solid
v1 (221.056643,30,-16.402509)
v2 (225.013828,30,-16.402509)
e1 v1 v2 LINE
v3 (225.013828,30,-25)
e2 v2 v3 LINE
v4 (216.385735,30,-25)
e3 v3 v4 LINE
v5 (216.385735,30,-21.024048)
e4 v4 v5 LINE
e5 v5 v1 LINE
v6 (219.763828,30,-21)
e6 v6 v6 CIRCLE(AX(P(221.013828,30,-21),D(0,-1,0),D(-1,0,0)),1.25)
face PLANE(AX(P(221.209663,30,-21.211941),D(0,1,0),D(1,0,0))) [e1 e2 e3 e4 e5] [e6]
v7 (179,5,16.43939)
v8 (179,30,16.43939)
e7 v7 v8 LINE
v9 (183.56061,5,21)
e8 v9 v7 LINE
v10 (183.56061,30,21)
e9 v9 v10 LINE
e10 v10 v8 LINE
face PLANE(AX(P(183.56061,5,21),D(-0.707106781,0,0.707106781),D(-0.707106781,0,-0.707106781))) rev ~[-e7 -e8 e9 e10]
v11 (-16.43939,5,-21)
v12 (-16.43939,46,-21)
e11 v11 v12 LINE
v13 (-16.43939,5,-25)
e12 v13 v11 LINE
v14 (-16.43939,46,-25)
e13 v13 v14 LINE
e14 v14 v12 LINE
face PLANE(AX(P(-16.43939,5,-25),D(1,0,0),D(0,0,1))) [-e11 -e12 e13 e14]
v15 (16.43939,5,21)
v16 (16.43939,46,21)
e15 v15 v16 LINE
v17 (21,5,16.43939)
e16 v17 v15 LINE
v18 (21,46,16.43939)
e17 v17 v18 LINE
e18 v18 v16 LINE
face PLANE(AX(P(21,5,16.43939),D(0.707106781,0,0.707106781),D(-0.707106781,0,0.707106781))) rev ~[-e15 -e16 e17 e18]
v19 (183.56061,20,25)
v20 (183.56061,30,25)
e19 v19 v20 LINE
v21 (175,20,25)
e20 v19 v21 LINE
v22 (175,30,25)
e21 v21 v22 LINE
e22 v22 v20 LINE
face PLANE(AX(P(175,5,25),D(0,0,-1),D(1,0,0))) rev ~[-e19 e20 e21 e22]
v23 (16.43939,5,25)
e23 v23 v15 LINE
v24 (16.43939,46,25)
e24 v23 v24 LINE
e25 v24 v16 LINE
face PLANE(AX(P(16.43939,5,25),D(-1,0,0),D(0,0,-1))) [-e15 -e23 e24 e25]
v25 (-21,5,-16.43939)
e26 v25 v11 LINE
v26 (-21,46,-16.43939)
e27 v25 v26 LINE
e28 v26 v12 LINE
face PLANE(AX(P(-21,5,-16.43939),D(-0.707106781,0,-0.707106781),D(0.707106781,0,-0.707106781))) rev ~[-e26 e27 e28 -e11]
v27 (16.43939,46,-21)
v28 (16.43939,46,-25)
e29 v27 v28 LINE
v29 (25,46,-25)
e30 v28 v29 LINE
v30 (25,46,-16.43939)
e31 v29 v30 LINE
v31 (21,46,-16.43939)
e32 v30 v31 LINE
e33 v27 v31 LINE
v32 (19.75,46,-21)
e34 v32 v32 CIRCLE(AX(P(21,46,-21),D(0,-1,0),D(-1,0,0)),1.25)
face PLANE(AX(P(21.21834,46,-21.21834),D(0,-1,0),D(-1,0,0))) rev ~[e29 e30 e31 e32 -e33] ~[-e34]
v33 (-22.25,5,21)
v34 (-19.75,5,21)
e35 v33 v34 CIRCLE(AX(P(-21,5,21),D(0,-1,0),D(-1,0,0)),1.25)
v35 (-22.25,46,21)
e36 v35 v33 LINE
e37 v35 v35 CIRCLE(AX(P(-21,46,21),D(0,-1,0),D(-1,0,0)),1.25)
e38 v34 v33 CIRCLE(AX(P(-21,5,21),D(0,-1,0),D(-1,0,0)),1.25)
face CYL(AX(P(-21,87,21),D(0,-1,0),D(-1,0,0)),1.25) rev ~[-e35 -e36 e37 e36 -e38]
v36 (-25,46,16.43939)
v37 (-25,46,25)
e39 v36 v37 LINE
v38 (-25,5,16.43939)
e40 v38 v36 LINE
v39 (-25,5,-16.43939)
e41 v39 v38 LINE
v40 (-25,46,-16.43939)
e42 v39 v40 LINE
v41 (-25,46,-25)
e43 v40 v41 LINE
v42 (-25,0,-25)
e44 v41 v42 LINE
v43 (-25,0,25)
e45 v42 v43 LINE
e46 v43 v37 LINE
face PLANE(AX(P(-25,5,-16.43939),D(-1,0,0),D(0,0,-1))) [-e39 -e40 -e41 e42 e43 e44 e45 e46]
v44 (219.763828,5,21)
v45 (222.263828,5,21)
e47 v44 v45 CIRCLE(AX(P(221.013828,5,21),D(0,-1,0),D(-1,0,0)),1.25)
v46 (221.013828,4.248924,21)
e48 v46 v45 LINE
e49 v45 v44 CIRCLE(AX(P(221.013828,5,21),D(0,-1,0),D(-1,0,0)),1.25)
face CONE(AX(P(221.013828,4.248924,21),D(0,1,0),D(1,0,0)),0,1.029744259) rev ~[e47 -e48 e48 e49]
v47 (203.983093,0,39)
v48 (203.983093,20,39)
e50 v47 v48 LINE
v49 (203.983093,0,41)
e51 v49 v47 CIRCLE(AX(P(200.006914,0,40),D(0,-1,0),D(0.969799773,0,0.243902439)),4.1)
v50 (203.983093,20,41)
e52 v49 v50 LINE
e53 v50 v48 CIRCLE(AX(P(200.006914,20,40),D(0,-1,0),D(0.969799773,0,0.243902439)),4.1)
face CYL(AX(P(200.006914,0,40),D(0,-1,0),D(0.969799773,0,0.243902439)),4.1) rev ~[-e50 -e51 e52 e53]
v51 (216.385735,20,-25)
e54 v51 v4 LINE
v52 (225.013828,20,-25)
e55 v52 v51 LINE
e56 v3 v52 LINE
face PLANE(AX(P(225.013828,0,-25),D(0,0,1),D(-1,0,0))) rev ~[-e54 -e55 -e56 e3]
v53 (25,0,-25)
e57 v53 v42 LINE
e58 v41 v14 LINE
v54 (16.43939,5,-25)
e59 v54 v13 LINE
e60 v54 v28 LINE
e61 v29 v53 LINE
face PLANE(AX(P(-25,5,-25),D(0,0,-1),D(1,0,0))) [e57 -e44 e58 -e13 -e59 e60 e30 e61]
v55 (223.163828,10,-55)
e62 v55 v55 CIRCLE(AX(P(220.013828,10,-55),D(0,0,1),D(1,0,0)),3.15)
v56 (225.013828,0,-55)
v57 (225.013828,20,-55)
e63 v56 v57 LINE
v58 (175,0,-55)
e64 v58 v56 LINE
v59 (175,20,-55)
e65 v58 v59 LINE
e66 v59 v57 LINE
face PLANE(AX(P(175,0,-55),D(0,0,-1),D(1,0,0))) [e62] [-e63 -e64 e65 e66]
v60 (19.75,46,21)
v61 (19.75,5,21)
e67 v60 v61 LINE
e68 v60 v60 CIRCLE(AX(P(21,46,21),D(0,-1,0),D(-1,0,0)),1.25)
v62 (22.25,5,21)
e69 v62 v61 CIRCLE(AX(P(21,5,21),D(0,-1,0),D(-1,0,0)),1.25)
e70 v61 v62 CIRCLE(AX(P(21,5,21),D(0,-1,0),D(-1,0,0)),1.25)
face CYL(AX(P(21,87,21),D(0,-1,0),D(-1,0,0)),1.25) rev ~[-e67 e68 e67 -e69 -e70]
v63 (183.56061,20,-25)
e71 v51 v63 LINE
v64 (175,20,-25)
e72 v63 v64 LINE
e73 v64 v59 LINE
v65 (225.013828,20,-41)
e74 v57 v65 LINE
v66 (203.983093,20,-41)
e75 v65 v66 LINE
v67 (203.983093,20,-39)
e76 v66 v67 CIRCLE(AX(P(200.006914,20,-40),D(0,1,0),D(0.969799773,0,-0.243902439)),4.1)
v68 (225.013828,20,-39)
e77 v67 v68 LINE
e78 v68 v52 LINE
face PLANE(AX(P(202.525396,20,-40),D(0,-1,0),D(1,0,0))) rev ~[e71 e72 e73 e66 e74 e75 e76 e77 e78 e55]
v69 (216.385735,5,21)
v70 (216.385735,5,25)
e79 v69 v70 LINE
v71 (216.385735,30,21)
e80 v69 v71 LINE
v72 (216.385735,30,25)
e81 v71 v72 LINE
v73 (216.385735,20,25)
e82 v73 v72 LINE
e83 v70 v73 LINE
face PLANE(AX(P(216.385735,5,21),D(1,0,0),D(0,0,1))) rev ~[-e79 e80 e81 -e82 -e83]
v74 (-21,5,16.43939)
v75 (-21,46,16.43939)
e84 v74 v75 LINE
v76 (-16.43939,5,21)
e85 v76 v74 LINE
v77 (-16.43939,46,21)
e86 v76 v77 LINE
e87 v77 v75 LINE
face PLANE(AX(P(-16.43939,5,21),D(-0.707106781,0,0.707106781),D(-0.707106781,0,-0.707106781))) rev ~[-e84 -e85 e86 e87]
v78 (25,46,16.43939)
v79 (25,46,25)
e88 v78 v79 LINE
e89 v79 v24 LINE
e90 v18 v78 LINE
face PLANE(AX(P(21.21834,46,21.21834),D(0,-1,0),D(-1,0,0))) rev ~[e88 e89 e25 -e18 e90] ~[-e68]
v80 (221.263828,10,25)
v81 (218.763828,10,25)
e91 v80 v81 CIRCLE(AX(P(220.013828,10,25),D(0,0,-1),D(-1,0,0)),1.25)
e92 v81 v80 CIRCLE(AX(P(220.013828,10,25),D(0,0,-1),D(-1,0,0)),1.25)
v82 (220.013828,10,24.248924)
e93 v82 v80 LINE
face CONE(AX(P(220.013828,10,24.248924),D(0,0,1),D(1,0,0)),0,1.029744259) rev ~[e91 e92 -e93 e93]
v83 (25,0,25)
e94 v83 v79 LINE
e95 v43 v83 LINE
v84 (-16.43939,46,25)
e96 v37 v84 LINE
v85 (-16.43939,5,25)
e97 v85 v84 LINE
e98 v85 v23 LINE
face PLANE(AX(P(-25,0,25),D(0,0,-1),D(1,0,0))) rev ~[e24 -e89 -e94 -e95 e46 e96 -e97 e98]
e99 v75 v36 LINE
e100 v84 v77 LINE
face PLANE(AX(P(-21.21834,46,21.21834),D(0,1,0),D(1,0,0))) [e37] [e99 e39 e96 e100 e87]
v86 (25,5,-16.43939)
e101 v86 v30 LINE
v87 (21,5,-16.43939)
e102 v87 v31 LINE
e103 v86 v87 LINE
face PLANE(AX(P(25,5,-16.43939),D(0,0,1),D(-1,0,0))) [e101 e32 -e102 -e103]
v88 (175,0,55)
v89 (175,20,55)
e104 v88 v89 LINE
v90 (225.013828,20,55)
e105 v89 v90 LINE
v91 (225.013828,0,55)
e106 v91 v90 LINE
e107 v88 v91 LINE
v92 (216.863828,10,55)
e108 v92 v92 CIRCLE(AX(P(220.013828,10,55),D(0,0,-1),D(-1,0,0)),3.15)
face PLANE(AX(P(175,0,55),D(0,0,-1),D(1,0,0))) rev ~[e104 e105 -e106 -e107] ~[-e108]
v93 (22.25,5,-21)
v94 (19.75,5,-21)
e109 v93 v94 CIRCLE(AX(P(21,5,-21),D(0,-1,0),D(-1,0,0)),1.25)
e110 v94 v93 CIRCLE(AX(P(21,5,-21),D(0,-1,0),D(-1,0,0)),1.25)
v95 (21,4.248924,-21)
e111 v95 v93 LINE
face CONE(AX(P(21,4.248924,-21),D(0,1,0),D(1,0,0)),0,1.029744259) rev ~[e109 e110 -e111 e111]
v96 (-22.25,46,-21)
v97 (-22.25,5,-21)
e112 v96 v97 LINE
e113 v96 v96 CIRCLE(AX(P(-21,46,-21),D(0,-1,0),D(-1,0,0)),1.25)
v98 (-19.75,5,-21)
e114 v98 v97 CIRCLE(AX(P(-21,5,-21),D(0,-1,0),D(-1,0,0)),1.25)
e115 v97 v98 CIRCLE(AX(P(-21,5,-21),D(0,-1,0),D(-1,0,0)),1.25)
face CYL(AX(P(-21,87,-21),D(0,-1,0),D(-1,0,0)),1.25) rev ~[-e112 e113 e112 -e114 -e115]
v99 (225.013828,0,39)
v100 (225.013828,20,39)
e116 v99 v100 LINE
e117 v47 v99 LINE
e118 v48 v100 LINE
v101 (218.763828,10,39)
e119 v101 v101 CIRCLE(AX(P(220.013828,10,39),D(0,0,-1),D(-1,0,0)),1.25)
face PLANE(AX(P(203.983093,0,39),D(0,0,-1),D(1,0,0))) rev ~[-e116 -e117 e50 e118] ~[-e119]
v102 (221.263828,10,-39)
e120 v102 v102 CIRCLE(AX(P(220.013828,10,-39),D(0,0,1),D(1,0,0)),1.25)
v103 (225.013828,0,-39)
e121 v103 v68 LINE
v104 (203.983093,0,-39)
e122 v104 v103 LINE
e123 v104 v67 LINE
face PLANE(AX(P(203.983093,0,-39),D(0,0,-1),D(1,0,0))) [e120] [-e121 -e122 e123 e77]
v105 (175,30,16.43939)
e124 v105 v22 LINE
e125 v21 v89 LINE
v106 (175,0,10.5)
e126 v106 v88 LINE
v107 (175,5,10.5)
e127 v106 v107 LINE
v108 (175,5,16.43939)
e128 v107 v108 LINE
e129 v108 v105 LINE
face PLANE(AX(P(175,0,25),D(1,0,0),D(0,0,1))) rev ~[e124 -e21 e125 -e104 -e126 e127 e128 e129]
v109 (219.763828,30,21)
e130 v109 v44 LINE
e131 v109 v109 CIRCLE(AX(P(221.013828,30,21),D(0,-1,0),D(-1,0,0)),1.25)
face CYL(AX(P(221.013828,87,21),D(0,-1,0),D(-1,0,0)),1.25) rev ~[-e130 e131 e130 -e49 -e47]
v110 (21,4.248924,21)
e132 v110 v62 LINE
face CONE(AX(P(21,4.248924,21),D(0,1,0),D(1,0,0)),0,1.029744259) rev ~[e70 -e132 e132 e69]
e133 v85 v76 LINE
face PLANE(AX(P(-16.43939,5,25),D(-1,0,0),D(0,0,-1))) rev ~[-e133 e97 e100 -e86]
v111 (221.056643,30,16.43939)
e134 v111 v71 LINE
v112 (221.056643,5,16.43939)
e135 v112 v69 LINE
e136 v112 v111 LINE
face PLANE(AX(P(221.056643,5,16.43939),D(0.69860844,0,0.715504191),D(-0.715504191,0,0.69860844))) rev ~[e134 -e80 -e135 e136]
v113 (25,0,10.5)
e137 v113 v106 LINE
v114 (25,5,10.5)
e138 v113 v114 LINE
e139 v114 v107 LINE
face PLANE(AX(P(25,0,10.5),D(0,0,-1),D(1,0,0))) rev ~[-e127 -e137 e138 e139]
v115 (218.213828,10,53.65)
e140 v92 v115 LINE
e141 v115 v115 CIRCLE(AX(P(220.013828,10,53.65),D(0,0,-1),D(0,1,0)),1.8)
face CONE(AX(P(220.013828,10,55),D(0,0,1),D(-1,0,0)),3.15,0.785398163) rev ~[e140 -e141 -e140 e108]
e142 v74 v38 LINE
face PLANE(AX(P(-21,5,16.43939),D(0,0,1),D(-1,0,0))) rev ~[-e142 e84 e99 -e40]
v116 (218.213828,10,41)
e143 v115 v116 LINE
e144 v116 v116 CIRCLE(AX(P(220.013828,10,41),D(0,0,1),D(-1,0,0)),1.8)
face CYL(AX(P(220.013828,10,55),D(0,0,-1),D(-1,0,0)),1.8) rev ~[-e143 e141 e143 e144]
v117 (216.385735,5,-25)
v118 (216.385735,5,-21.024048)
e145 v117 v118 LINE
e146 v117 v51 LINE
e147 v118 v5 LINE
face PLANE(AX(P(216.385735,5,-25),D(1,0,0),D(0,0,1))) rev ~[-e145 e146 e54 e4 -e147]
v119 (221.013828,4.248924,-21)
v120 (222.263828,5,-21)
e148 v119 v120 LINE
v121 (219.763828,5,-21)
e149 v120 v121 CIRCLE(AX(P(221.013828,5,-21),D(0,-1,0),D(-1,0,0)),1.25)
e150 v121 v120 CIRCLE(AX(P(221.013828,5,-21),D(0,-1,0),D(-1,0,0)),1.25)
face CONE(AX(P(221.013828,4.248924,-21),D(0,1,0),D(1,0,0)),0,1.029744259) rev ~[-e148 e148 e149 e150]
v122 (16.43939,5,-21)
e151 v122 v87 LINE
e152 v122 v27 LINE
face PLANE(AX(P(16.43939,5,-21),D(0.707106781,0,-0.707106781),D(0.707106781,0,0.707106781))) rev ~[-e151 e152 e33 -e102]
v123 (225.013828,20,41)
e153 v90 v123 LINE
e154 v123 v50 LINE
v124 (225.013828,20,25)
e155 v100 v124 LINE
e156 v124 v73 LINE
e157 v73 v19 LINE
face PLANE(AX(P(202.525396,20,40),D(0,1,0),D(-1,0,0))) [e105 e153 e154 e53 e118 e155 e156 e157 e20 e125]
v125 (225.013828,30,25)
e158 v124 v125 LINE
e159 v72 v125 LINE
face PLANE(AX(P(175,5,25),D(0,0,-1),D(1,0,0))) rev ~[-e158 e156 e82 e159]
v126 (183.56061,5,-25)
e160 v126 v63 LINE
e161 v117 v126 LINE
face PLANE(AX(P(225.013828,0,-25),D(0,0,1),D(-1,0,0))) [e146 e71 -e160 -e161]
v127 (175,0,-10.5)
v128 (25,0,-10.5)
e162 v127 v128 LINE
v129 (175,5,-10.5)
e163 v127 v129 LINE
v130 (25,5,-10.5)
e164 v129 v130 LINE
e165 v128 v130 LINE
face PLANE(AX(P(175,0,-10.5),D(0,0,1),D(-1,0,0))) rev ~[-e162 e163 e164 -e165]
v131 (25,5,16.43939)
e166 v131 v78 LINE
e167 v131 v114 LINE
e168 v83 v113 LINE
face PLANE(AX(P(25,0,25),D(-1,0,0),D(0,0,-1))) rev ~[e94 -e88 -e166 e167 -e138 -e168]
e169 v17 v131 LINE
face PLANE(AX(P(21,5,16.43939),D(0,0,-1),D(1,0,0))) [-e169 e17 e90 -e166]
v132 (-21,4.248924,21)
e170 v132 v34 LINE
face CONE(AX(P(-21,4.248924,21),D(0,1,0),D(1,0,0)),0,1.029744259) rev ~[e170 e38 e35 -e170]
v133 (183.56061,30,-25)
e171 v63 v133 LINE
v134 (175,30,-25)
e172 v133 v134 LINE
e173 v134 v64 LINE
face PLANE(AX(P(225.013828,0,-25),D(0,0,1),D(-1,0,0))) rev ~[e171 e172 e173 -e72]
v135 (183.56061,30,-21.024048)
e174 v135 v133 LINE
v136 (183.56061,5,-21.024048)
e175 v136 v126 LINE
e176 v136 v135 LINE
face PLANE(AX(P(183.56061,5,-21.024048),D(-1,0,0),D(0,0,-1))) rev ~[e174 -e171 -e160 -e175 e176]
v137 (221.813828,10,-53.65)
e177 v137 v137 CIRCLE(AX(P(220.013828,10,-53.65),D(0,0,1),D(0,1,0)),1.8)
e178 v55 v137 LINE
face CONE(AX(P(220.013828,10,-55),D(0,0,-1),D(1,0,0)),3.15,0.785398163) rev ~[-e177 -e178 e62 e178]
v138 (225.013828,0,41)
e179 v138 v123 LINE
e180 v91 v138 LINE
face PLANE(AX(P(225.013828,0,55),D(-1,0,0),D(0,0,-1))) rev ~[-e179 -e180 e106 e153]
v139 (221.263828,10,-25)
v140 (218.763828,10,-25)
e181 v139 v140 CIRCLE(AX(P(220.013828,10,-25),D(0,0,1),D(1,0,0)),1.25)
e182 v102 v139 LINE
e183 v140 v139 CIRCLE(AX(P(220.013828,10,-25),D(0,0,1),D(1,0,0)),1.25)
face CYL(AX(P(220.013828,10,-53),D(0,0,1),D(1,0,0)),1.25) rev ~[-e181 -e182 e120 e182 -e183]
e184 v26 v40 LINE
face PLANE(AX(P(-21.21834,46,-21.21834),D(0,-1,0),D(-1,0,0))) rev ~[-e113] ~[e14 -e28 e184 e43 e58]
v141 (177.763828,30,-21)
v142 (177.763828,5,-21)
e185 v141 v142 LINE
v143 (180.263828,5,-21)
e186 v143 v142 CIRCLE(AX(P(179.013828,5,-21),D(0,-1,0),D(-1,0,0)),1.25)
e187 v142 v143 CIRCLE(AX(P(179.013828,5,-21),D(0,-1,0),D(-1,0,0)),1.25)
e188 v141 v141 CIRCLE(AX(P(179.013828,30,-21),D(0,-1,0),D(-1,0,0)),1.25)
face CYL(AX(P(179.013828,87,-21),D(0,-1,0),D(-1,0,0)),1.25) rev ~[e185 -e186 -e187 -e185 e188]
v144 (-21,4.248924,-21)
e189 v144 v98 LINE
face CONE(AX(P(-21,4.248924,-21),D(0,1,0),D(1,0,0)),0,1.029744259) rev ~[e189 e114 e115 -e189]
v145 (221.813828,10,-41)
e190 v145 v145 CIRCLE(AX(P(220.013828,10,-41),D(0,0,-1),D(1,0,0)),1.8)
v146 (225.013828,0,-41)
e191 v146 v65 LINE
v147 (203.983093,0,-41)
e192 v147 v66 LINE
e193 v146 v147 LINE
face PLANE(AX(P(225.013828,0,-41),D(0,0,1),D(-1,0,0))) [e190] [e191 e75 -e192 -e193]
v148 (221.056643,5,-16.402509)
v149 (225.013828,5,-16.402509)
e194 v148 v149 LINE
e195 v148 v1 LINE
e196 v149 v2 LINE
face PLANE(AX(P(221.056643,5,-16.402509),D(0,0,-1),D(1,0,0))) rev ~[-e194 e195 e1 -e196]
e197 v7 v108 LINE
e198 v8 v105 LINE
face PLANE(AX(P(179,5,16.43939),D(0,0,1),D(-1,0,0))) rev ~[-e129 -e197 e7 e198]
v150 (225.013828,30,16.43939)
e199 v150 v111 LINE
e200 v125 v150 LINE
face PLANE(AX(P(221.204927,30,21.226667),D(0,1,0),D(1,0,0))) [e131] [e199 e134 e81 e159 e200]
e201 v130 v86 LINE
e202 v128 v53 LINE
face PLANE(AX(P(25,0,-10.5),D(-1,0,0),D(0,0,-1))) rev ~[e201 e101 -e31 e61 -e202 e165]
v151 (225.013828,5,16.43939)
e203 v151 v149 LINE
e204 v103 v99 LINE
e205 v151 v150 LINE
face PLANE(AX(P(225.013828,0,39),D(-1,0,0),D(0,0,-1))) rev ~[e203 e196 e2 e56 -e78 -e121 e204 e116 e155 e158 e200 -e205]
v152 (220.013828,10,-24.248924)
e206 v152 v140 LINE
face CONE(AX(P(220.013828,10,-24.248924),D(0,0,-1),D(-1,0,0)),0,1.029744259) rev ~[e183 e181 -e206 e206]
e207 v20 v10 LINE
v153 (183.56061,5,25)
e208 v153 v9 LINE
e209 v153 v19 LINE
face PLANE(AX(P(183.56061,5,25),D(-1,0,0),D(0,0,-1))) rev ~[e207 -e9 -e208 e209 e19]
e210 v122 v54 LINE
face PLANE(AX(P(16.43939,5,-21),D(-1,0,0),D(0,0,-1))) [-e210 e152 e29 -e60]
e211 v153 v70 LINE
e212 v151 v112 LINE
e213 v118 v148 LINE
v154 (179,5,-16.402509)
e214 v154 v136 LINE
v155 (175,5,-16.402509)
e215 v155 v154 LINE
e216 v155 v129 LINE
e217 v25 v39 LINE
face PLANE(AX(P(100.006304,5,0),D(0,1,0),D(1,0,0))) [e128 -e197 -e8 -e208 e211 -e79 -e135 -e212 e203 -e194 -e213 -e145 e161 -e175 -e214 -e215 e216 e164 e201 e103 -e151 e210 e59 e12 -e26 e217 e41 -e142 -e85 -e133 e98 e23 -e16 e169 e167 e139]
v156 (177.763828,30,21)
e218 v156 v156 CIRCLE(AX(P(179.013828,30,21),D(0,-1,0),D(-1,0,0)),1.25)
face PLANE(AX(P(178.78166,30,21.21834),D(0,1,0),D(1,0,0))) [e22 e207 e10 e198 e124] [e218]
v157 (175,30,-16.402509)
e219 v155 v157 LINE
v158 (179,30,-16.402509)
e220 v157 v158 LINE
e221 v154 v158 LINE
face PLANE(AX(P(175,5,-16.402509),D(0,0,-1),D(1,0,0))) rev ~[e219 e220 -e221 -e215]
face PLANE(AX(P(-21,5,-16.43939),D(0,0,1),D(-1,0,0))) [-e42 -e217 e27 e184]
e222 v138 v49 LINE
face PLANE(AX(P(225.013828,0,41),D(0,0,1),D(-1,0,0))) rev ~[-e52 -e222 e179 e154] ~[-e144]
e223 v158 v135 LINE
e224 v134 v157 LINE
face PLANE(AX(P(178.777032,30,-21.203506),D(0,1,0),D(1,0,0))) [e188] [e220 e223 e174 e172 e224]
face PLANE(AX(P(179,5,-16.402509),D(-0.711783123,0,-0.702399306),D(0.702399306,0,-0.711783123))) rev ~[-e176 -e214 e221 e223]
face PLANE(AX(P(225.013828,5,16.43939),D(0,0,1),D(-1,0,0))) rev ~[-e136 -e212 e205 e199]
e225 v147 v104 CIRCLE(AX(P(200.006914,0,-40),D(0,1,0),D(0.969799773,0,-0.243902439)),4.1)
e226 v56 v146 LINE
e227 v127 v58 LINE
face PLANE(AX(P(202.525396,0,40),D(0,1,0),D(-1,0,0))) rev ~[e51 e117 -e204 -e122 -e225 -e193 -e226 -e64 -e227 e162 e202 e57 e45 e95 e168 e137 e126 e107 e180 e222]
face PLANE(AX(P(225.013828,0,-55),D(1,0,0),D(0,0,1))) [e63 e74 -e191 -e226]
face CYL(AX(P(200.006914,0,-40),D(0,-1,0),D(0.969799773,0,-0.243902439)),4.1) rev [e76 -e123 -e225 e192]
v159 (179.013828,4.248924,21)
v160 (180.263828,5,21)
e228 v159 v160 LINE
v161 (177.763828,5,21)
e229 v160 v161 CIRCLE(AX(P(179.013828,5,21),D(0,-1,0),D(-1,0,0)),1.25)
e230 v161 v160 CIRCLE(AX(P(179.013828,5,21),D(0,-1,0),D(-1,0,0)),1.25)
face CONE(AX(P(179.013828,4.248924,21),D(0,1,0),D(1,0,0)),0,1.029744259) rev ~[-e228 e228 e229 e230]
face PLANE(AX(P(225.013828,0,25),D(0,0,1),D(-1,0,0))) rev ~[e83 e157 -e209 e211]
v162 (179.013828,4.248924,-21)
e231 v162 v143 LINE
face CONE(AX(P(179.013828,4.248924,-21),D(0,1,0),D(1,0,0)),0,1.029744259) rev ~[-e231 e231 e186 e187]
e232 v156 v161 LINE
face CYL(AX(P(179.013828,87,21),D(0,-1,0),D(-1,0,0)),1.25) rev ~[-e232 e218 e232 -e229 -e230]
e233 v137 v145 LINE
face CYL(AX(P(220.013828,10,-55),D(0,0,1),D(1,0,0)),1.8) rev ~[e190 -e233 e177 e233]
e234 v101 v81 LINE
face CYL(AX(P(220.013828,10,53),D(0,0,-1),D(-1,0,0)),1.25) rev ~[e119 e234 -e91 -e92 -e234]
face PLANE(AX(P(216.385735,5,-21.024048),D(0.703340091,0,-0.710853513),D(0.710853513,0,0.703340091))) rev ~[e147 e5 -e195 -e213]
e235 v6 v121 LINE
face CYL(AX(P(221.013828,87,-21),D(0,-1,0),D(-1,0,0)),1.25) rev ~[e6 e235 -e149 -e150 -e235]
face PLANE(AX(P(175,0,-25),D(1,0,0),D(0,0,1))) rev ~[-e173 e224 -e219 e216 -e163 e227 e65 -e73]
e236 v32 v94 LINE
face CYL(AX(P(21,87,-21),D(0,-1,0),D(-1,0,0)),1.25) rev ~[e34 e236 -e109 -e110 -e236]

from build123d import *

# Parameters (mm, degrees)
BASE_EXTR_DEPTH                                 = 5
MOTOR_1_EXTR_DEPTH                              = 41
SHAFT_MOTOR_SUPPORT_EXTR_DEPTH                  = 25
TAP_DRILL_FOR_M3X0_5_TAP1_D                     = 2.5
TAP_DRILL_FOR_M3X0_5_TAP1_DEPTH                 = 41
TAP_DRILL_FOR_M3X0_5_TAP1_TIP                   = 0.751075774
BOSS_EXTRUDE10_DEPTH                            = 20
CSK_FOR_M3_OVAL_HEAD_MACHINE_SCREW1_D           = 3.6
CSK_FOR_M3_OVAL_HEAD_MACHINE_SCREW1_DEPTH       = 14
CSK_FOR_M3_OVAL_HEAD_MACHINE_SCREW1_CSINK_D     = 6.3
CSK_FOR_M3_OVAL_HEAD_MACHINE_SCREW1_CSINK_ANGLE = 90
CSK_FOR_M3_OVAL_HEAD_MACHINE_SCREW1_TIP         = 1.081549114
CSK_FOR_M3_OVAL_HEAD_MACHINE_SCREW2_D           = 3.6
CSK_FOR_M3_OVAL_HEAD_MACHINE_SCREW2_DEPTH       = 14
CSK_FOR_M3_OVAL_HEAD_MACHINE_SCREW2_CSINK_D     = 6.3
CSK_FOR_M3_OVAL_HEAD_MACHINE_SCREW2_CSINK_ANGLE = 90
CSK_FOR_M3_OVAL_HEAD_MACHINE_SCREW2_TIP         = 1.081549114
TAP_DRILL_FOR_M3X0_5_TAP2_D                     = 2.5
TAP_DRILL_FOR_M3X0_5_TAP2_DEPTH                 = 14
TAP_DRILL_FOR_M3X0_5_TAP2_TIP                   = 0.751075774
TAP_DRILL_FOR_M3X0_5_TAP3_D                     = 2.5
TAP_DRILL_FOR_M3X0_5_TAP3_DEPTH                 = 14
TAP_DRILL_FOR_M3X0_5_TAP3_TIP                   = 0.751075774


with BuildPart() as part:
    # Base_sch → base_extr (new body)
    with BuildSketch(Plane(origin=(0, 0, 0), x_dir=(1, 0, 0), z_dir=(0, 1, 0))):
        Polygon((25, 10.5), (25, 25), (-25, 25), (-25, -25), (25, -25), (25, -10.5), (175, -10.5), (175, -25), (225.013827764, -25), (225.013827764, 25), (175, 25), (175, 10.5), align=None)
    extrude(amount=BASE_EXTR_DEPTH)

    # motor_support_sch → Motor_1_extr (add)
    with BuildSketch(Plane(origin=(0, 5, 0), x_dir=(1, 0, 0), z_dir=(0, 1, 0))):
        Polygon((-25, 16.439389634), (-25, 25), (-16.439389634, 25), (-16.439389634, 21), (-18.719694817, 18.719694817), (-21, 16.439389634), align=None)
        Polygon((16.439389634, 25), (25, 25), (25, 16.439389634), (21, 16.439389634), (18.719694817, 18.719694817), (16.439389634, 21), align=None)
        Polygon((25, -16.439389634), (25, -25), (16.439389634, -25), (16.439389634, -21), (18.719694817, -18.719694817), (21, -16.439389634), align=None)
        Polygon((-18.719694817, -18.719694817), (-21, -16.439389634), (-25, -16.439389634), (-25, -25), (-16.439389634, -25), (-16.439389634, -21), align=None)
    extrude(amount=MOTOR_1_EXTR_DEPTH)

    # shaft_motor_support_sch → shaft_motor_support_extr (add)
    with BuildSketch(Plane(origin=(0, 5, 0), x_dir=(1, 0, 0), z_dir=(0, 1, 0))):
        Polygon((181.280305183, -18.719694817), (179, -16.439389634), (175, -16.439389634), (175, -25), (183.560610366, -25), (183.560610366, -21), align=None)
        Polygon((175, 25), (175, 16.402508948), (179, 16.402508948), (183.560610366, 21.024047525), (183.560610366, 25), align=None)
        Polygon((225.013827764, -25), (225.013827764, -16.439389634), (221.056642929, -16.439389634), (216.38573482, -21), (216.38573482, -25), align=None)
        Polygon((225.013827764, 25), (216.38573482, 25), (216.38573482, 21.024047525), (221.056642929, 16.402508948), (225.013827764, 16.402508948), align=None)
    extrude(amount=SHAFT_MOTOR_SUPPORT_EXTR_DEPTH)

    # Tap Drill for M3x0.5 Tap1
    with Locations(Plane(origin=(0, 46, 0), x_dir=(1, 0, 0), z_dir=(0, 1, 0))):
        with Locations((-21, -21), (21, -21), (21, 21), (-21, 21), (179.013827764, 21), (221.013827764, 21), (221.013827764, -21), (179.013827764, -21)):
            Hole(TAP_DRILL_FOR_M3X0_5_TAP1_D / 2, depth=TAP_DRILL_FOR_M3X0_5_TAP1_DEPTH)
            with Locations((0, 0, -(TAP_DRILL_FOR_M3X0_5_TAP1_DEPTH + TAP_DRILL_FOR_M3X0_5_TAP1_TIP / 2))):  # 118° drill point
                Cone(0, TAP_DRILL_FOR_M3X0_5_TAP1_D / 2, TAP_DRILL_FOR_M3X0_5_TAP1_TIP, mode=Mode.SUBTRACT)

    # Sketch12 → Boss-Extrude10 (add)
    with BuildSketch(Plane.XZ):
        with BuildLine():
            Line((175, 25), (175, 55))
            Line((175, 55), (225.013827764, 55))
            Line((225.013827764, 55), (225.013827764, 41))
            Line((225.013827764, 41), (203.983092952, 41))
            ThreePointArc((203.983092952, 41), (195.906913882, 40), (203.983092952, 39))
            Line((203.983092952, 39), (225.013827764, 39))
            Line((225.013827764, 39), (225.013827764, 25))
            Line((225.013827764, 25), (175, 25))
        make_face()
        with BuildLine():
            Line((175, -25), (175, -55))
            Line((175, -55), (225.013827764, -55))
            Line((225.013827764, -55), (225.013827764, -41))
            Line((225.013827764, -41), (203.983092952, -41))
            ThreePointArc((203.983092952, -41), (195.906913882, -40), (203.983092952, -39))
            Line((203.983092952, -39), (225.013827764, -39))
            Line((225.013827764, -39), (225.013827764, -25))
            Line((225.013827764, -25), (175, -25))
        make_face()
    extrude(amount=-BOSS_EXTRUDE10_DEPTH)

    # CSK for M3 Oval Head Machine Screw1
    with Locations(Plane(origin=(220.013827764, 10, 55), x_dir=(1, 0, 0), z_dir=(0, 0, 1))):
        with Locations((0, 0)):
            CounterSinkHole(CSK_FOR_M3_OVAL_HEAD_MACHINE_SCREW1_D / 2, CSK_FOR_M3_OVAL_HEAD_MACHINE_SCREW1_CSINK_D / 2, depth=CSK_FOR_M3_OVAL_HEAD_MACHINE_SCREW1_DEPTH, counter_sink_angle=CSK_FOR_M3_OVAL_HEAD_MACHINE_SCREW1_CSINK_ANGLE)
            with Locations((0, 0, -(CSK_FOR_M3_OVAL_HEAD_MACHINE_SCREW1_DEPTH + CSK_FOR_M3_OVAL_HEAD_MACHINE_SCREW1_TIP / 2))):  # 118° drill point
                Cone(0, CSK_FOR_M3_OVAL_HEAD_MACHINE_SCREW1_D / 2, CSK_FOR_M3_OVAL_HEAD_MACHINE_SCREW1_TIP, mode=Mode.SUBTRACT)

    # CSK for M3 Oval Head Machine Screw2
    with Locations(Plane(origin=(220.013827764, 10, -55), x_dir=(-1, 0, 0), z_dir=(0, 0, -1))):
        with Locations((0, 0)):
            CounterSinkHole(CSK_FOR_M3_OVAL_HEAD_MACHINE_SCREW2_D / 2, CSK_FOR_M3_OVAL_HEAD_MACHINE_SCREW2_CSINK_D / 2, depth=CSK_FOR_M3_OVAL_HEAD_MACHINE_SCREW2_DEPTH, counter_sink_angle=CSK_FOR_M3_OVAL_HEAD_MACHINE_SCREW2_CSINK_ANGLE)
            with Locations((0, 0, -(CSK_FOR_M3_OVAL_HEAD_MACHINE_SCREW2_DEPTH + CSK_FOR_M3_OVAL_HEAD_MACHINE_SCREW2_TIP / 2))):  # 118° drill point
                Cone(0, CSK_FOR_M3_OVAL_HEAD_MACHINE_SCREW2_D / 2, CSK_FOR_M3_OVAL_HEAD_MACHINE_SCREW2_TIP, mode=Mode.SUBTRACT)

    # Tap Drill for M3x0.5 Tap2
    with Locations(Plane(origin=(0, 0, -39), x_dir=(-1, 0, 0), z_dir=(0, 0, -1))):
        with Locations((-220.013827764, 10)):
            Hole(TAP_DRILL_FOR_M3X0_5_TAP2_D / 2, depth=TAP_DRILL_FOR_M3X0_5_TAP2_DEPTH)
            with Locations((0, 0, -(TAP_DRILL_FOR_M3X0_5_TAP2_DEPTH + TAP_DRILL_FOR_M3X0_5_TAP2_TIP / 2))):  # 118° drill point
                Cone(0, TAP_DRILL_FOR_M3X0_5_TAP2_D / 2, TAP_DRILL_FOR_M3X0_5_TAP2_TIP, mode=Mode.SUBTRACT)

    # Tap Drill for M3x0.5 Tap3
    with Locations(Plane.XY.offset(39)):
        with Locations((220.013827764, 10)):
            Hole(TAP_DRILL_FOR_M3X0_5_TAP3_D / 2, depth=TAP_DRILL_FOR_M3X0_5_TAP3_DEPTH)
            with Locations((0, 0, -(TAP_DRILL_FOR_M3X0_5_TAP3_DEPTH + TAP_DRILL_FOR_M3X0_5_TAP3_TIP / 2))):  # 118° drill point
                Cone(0, TAP_DRILL_FOR_M3X0_5_TAP3_D / 2, TAP_DRILL_FOR_M3X0_5_TAP3_TIP, mode=Mode.SUBTRACT)


solid = part.part
